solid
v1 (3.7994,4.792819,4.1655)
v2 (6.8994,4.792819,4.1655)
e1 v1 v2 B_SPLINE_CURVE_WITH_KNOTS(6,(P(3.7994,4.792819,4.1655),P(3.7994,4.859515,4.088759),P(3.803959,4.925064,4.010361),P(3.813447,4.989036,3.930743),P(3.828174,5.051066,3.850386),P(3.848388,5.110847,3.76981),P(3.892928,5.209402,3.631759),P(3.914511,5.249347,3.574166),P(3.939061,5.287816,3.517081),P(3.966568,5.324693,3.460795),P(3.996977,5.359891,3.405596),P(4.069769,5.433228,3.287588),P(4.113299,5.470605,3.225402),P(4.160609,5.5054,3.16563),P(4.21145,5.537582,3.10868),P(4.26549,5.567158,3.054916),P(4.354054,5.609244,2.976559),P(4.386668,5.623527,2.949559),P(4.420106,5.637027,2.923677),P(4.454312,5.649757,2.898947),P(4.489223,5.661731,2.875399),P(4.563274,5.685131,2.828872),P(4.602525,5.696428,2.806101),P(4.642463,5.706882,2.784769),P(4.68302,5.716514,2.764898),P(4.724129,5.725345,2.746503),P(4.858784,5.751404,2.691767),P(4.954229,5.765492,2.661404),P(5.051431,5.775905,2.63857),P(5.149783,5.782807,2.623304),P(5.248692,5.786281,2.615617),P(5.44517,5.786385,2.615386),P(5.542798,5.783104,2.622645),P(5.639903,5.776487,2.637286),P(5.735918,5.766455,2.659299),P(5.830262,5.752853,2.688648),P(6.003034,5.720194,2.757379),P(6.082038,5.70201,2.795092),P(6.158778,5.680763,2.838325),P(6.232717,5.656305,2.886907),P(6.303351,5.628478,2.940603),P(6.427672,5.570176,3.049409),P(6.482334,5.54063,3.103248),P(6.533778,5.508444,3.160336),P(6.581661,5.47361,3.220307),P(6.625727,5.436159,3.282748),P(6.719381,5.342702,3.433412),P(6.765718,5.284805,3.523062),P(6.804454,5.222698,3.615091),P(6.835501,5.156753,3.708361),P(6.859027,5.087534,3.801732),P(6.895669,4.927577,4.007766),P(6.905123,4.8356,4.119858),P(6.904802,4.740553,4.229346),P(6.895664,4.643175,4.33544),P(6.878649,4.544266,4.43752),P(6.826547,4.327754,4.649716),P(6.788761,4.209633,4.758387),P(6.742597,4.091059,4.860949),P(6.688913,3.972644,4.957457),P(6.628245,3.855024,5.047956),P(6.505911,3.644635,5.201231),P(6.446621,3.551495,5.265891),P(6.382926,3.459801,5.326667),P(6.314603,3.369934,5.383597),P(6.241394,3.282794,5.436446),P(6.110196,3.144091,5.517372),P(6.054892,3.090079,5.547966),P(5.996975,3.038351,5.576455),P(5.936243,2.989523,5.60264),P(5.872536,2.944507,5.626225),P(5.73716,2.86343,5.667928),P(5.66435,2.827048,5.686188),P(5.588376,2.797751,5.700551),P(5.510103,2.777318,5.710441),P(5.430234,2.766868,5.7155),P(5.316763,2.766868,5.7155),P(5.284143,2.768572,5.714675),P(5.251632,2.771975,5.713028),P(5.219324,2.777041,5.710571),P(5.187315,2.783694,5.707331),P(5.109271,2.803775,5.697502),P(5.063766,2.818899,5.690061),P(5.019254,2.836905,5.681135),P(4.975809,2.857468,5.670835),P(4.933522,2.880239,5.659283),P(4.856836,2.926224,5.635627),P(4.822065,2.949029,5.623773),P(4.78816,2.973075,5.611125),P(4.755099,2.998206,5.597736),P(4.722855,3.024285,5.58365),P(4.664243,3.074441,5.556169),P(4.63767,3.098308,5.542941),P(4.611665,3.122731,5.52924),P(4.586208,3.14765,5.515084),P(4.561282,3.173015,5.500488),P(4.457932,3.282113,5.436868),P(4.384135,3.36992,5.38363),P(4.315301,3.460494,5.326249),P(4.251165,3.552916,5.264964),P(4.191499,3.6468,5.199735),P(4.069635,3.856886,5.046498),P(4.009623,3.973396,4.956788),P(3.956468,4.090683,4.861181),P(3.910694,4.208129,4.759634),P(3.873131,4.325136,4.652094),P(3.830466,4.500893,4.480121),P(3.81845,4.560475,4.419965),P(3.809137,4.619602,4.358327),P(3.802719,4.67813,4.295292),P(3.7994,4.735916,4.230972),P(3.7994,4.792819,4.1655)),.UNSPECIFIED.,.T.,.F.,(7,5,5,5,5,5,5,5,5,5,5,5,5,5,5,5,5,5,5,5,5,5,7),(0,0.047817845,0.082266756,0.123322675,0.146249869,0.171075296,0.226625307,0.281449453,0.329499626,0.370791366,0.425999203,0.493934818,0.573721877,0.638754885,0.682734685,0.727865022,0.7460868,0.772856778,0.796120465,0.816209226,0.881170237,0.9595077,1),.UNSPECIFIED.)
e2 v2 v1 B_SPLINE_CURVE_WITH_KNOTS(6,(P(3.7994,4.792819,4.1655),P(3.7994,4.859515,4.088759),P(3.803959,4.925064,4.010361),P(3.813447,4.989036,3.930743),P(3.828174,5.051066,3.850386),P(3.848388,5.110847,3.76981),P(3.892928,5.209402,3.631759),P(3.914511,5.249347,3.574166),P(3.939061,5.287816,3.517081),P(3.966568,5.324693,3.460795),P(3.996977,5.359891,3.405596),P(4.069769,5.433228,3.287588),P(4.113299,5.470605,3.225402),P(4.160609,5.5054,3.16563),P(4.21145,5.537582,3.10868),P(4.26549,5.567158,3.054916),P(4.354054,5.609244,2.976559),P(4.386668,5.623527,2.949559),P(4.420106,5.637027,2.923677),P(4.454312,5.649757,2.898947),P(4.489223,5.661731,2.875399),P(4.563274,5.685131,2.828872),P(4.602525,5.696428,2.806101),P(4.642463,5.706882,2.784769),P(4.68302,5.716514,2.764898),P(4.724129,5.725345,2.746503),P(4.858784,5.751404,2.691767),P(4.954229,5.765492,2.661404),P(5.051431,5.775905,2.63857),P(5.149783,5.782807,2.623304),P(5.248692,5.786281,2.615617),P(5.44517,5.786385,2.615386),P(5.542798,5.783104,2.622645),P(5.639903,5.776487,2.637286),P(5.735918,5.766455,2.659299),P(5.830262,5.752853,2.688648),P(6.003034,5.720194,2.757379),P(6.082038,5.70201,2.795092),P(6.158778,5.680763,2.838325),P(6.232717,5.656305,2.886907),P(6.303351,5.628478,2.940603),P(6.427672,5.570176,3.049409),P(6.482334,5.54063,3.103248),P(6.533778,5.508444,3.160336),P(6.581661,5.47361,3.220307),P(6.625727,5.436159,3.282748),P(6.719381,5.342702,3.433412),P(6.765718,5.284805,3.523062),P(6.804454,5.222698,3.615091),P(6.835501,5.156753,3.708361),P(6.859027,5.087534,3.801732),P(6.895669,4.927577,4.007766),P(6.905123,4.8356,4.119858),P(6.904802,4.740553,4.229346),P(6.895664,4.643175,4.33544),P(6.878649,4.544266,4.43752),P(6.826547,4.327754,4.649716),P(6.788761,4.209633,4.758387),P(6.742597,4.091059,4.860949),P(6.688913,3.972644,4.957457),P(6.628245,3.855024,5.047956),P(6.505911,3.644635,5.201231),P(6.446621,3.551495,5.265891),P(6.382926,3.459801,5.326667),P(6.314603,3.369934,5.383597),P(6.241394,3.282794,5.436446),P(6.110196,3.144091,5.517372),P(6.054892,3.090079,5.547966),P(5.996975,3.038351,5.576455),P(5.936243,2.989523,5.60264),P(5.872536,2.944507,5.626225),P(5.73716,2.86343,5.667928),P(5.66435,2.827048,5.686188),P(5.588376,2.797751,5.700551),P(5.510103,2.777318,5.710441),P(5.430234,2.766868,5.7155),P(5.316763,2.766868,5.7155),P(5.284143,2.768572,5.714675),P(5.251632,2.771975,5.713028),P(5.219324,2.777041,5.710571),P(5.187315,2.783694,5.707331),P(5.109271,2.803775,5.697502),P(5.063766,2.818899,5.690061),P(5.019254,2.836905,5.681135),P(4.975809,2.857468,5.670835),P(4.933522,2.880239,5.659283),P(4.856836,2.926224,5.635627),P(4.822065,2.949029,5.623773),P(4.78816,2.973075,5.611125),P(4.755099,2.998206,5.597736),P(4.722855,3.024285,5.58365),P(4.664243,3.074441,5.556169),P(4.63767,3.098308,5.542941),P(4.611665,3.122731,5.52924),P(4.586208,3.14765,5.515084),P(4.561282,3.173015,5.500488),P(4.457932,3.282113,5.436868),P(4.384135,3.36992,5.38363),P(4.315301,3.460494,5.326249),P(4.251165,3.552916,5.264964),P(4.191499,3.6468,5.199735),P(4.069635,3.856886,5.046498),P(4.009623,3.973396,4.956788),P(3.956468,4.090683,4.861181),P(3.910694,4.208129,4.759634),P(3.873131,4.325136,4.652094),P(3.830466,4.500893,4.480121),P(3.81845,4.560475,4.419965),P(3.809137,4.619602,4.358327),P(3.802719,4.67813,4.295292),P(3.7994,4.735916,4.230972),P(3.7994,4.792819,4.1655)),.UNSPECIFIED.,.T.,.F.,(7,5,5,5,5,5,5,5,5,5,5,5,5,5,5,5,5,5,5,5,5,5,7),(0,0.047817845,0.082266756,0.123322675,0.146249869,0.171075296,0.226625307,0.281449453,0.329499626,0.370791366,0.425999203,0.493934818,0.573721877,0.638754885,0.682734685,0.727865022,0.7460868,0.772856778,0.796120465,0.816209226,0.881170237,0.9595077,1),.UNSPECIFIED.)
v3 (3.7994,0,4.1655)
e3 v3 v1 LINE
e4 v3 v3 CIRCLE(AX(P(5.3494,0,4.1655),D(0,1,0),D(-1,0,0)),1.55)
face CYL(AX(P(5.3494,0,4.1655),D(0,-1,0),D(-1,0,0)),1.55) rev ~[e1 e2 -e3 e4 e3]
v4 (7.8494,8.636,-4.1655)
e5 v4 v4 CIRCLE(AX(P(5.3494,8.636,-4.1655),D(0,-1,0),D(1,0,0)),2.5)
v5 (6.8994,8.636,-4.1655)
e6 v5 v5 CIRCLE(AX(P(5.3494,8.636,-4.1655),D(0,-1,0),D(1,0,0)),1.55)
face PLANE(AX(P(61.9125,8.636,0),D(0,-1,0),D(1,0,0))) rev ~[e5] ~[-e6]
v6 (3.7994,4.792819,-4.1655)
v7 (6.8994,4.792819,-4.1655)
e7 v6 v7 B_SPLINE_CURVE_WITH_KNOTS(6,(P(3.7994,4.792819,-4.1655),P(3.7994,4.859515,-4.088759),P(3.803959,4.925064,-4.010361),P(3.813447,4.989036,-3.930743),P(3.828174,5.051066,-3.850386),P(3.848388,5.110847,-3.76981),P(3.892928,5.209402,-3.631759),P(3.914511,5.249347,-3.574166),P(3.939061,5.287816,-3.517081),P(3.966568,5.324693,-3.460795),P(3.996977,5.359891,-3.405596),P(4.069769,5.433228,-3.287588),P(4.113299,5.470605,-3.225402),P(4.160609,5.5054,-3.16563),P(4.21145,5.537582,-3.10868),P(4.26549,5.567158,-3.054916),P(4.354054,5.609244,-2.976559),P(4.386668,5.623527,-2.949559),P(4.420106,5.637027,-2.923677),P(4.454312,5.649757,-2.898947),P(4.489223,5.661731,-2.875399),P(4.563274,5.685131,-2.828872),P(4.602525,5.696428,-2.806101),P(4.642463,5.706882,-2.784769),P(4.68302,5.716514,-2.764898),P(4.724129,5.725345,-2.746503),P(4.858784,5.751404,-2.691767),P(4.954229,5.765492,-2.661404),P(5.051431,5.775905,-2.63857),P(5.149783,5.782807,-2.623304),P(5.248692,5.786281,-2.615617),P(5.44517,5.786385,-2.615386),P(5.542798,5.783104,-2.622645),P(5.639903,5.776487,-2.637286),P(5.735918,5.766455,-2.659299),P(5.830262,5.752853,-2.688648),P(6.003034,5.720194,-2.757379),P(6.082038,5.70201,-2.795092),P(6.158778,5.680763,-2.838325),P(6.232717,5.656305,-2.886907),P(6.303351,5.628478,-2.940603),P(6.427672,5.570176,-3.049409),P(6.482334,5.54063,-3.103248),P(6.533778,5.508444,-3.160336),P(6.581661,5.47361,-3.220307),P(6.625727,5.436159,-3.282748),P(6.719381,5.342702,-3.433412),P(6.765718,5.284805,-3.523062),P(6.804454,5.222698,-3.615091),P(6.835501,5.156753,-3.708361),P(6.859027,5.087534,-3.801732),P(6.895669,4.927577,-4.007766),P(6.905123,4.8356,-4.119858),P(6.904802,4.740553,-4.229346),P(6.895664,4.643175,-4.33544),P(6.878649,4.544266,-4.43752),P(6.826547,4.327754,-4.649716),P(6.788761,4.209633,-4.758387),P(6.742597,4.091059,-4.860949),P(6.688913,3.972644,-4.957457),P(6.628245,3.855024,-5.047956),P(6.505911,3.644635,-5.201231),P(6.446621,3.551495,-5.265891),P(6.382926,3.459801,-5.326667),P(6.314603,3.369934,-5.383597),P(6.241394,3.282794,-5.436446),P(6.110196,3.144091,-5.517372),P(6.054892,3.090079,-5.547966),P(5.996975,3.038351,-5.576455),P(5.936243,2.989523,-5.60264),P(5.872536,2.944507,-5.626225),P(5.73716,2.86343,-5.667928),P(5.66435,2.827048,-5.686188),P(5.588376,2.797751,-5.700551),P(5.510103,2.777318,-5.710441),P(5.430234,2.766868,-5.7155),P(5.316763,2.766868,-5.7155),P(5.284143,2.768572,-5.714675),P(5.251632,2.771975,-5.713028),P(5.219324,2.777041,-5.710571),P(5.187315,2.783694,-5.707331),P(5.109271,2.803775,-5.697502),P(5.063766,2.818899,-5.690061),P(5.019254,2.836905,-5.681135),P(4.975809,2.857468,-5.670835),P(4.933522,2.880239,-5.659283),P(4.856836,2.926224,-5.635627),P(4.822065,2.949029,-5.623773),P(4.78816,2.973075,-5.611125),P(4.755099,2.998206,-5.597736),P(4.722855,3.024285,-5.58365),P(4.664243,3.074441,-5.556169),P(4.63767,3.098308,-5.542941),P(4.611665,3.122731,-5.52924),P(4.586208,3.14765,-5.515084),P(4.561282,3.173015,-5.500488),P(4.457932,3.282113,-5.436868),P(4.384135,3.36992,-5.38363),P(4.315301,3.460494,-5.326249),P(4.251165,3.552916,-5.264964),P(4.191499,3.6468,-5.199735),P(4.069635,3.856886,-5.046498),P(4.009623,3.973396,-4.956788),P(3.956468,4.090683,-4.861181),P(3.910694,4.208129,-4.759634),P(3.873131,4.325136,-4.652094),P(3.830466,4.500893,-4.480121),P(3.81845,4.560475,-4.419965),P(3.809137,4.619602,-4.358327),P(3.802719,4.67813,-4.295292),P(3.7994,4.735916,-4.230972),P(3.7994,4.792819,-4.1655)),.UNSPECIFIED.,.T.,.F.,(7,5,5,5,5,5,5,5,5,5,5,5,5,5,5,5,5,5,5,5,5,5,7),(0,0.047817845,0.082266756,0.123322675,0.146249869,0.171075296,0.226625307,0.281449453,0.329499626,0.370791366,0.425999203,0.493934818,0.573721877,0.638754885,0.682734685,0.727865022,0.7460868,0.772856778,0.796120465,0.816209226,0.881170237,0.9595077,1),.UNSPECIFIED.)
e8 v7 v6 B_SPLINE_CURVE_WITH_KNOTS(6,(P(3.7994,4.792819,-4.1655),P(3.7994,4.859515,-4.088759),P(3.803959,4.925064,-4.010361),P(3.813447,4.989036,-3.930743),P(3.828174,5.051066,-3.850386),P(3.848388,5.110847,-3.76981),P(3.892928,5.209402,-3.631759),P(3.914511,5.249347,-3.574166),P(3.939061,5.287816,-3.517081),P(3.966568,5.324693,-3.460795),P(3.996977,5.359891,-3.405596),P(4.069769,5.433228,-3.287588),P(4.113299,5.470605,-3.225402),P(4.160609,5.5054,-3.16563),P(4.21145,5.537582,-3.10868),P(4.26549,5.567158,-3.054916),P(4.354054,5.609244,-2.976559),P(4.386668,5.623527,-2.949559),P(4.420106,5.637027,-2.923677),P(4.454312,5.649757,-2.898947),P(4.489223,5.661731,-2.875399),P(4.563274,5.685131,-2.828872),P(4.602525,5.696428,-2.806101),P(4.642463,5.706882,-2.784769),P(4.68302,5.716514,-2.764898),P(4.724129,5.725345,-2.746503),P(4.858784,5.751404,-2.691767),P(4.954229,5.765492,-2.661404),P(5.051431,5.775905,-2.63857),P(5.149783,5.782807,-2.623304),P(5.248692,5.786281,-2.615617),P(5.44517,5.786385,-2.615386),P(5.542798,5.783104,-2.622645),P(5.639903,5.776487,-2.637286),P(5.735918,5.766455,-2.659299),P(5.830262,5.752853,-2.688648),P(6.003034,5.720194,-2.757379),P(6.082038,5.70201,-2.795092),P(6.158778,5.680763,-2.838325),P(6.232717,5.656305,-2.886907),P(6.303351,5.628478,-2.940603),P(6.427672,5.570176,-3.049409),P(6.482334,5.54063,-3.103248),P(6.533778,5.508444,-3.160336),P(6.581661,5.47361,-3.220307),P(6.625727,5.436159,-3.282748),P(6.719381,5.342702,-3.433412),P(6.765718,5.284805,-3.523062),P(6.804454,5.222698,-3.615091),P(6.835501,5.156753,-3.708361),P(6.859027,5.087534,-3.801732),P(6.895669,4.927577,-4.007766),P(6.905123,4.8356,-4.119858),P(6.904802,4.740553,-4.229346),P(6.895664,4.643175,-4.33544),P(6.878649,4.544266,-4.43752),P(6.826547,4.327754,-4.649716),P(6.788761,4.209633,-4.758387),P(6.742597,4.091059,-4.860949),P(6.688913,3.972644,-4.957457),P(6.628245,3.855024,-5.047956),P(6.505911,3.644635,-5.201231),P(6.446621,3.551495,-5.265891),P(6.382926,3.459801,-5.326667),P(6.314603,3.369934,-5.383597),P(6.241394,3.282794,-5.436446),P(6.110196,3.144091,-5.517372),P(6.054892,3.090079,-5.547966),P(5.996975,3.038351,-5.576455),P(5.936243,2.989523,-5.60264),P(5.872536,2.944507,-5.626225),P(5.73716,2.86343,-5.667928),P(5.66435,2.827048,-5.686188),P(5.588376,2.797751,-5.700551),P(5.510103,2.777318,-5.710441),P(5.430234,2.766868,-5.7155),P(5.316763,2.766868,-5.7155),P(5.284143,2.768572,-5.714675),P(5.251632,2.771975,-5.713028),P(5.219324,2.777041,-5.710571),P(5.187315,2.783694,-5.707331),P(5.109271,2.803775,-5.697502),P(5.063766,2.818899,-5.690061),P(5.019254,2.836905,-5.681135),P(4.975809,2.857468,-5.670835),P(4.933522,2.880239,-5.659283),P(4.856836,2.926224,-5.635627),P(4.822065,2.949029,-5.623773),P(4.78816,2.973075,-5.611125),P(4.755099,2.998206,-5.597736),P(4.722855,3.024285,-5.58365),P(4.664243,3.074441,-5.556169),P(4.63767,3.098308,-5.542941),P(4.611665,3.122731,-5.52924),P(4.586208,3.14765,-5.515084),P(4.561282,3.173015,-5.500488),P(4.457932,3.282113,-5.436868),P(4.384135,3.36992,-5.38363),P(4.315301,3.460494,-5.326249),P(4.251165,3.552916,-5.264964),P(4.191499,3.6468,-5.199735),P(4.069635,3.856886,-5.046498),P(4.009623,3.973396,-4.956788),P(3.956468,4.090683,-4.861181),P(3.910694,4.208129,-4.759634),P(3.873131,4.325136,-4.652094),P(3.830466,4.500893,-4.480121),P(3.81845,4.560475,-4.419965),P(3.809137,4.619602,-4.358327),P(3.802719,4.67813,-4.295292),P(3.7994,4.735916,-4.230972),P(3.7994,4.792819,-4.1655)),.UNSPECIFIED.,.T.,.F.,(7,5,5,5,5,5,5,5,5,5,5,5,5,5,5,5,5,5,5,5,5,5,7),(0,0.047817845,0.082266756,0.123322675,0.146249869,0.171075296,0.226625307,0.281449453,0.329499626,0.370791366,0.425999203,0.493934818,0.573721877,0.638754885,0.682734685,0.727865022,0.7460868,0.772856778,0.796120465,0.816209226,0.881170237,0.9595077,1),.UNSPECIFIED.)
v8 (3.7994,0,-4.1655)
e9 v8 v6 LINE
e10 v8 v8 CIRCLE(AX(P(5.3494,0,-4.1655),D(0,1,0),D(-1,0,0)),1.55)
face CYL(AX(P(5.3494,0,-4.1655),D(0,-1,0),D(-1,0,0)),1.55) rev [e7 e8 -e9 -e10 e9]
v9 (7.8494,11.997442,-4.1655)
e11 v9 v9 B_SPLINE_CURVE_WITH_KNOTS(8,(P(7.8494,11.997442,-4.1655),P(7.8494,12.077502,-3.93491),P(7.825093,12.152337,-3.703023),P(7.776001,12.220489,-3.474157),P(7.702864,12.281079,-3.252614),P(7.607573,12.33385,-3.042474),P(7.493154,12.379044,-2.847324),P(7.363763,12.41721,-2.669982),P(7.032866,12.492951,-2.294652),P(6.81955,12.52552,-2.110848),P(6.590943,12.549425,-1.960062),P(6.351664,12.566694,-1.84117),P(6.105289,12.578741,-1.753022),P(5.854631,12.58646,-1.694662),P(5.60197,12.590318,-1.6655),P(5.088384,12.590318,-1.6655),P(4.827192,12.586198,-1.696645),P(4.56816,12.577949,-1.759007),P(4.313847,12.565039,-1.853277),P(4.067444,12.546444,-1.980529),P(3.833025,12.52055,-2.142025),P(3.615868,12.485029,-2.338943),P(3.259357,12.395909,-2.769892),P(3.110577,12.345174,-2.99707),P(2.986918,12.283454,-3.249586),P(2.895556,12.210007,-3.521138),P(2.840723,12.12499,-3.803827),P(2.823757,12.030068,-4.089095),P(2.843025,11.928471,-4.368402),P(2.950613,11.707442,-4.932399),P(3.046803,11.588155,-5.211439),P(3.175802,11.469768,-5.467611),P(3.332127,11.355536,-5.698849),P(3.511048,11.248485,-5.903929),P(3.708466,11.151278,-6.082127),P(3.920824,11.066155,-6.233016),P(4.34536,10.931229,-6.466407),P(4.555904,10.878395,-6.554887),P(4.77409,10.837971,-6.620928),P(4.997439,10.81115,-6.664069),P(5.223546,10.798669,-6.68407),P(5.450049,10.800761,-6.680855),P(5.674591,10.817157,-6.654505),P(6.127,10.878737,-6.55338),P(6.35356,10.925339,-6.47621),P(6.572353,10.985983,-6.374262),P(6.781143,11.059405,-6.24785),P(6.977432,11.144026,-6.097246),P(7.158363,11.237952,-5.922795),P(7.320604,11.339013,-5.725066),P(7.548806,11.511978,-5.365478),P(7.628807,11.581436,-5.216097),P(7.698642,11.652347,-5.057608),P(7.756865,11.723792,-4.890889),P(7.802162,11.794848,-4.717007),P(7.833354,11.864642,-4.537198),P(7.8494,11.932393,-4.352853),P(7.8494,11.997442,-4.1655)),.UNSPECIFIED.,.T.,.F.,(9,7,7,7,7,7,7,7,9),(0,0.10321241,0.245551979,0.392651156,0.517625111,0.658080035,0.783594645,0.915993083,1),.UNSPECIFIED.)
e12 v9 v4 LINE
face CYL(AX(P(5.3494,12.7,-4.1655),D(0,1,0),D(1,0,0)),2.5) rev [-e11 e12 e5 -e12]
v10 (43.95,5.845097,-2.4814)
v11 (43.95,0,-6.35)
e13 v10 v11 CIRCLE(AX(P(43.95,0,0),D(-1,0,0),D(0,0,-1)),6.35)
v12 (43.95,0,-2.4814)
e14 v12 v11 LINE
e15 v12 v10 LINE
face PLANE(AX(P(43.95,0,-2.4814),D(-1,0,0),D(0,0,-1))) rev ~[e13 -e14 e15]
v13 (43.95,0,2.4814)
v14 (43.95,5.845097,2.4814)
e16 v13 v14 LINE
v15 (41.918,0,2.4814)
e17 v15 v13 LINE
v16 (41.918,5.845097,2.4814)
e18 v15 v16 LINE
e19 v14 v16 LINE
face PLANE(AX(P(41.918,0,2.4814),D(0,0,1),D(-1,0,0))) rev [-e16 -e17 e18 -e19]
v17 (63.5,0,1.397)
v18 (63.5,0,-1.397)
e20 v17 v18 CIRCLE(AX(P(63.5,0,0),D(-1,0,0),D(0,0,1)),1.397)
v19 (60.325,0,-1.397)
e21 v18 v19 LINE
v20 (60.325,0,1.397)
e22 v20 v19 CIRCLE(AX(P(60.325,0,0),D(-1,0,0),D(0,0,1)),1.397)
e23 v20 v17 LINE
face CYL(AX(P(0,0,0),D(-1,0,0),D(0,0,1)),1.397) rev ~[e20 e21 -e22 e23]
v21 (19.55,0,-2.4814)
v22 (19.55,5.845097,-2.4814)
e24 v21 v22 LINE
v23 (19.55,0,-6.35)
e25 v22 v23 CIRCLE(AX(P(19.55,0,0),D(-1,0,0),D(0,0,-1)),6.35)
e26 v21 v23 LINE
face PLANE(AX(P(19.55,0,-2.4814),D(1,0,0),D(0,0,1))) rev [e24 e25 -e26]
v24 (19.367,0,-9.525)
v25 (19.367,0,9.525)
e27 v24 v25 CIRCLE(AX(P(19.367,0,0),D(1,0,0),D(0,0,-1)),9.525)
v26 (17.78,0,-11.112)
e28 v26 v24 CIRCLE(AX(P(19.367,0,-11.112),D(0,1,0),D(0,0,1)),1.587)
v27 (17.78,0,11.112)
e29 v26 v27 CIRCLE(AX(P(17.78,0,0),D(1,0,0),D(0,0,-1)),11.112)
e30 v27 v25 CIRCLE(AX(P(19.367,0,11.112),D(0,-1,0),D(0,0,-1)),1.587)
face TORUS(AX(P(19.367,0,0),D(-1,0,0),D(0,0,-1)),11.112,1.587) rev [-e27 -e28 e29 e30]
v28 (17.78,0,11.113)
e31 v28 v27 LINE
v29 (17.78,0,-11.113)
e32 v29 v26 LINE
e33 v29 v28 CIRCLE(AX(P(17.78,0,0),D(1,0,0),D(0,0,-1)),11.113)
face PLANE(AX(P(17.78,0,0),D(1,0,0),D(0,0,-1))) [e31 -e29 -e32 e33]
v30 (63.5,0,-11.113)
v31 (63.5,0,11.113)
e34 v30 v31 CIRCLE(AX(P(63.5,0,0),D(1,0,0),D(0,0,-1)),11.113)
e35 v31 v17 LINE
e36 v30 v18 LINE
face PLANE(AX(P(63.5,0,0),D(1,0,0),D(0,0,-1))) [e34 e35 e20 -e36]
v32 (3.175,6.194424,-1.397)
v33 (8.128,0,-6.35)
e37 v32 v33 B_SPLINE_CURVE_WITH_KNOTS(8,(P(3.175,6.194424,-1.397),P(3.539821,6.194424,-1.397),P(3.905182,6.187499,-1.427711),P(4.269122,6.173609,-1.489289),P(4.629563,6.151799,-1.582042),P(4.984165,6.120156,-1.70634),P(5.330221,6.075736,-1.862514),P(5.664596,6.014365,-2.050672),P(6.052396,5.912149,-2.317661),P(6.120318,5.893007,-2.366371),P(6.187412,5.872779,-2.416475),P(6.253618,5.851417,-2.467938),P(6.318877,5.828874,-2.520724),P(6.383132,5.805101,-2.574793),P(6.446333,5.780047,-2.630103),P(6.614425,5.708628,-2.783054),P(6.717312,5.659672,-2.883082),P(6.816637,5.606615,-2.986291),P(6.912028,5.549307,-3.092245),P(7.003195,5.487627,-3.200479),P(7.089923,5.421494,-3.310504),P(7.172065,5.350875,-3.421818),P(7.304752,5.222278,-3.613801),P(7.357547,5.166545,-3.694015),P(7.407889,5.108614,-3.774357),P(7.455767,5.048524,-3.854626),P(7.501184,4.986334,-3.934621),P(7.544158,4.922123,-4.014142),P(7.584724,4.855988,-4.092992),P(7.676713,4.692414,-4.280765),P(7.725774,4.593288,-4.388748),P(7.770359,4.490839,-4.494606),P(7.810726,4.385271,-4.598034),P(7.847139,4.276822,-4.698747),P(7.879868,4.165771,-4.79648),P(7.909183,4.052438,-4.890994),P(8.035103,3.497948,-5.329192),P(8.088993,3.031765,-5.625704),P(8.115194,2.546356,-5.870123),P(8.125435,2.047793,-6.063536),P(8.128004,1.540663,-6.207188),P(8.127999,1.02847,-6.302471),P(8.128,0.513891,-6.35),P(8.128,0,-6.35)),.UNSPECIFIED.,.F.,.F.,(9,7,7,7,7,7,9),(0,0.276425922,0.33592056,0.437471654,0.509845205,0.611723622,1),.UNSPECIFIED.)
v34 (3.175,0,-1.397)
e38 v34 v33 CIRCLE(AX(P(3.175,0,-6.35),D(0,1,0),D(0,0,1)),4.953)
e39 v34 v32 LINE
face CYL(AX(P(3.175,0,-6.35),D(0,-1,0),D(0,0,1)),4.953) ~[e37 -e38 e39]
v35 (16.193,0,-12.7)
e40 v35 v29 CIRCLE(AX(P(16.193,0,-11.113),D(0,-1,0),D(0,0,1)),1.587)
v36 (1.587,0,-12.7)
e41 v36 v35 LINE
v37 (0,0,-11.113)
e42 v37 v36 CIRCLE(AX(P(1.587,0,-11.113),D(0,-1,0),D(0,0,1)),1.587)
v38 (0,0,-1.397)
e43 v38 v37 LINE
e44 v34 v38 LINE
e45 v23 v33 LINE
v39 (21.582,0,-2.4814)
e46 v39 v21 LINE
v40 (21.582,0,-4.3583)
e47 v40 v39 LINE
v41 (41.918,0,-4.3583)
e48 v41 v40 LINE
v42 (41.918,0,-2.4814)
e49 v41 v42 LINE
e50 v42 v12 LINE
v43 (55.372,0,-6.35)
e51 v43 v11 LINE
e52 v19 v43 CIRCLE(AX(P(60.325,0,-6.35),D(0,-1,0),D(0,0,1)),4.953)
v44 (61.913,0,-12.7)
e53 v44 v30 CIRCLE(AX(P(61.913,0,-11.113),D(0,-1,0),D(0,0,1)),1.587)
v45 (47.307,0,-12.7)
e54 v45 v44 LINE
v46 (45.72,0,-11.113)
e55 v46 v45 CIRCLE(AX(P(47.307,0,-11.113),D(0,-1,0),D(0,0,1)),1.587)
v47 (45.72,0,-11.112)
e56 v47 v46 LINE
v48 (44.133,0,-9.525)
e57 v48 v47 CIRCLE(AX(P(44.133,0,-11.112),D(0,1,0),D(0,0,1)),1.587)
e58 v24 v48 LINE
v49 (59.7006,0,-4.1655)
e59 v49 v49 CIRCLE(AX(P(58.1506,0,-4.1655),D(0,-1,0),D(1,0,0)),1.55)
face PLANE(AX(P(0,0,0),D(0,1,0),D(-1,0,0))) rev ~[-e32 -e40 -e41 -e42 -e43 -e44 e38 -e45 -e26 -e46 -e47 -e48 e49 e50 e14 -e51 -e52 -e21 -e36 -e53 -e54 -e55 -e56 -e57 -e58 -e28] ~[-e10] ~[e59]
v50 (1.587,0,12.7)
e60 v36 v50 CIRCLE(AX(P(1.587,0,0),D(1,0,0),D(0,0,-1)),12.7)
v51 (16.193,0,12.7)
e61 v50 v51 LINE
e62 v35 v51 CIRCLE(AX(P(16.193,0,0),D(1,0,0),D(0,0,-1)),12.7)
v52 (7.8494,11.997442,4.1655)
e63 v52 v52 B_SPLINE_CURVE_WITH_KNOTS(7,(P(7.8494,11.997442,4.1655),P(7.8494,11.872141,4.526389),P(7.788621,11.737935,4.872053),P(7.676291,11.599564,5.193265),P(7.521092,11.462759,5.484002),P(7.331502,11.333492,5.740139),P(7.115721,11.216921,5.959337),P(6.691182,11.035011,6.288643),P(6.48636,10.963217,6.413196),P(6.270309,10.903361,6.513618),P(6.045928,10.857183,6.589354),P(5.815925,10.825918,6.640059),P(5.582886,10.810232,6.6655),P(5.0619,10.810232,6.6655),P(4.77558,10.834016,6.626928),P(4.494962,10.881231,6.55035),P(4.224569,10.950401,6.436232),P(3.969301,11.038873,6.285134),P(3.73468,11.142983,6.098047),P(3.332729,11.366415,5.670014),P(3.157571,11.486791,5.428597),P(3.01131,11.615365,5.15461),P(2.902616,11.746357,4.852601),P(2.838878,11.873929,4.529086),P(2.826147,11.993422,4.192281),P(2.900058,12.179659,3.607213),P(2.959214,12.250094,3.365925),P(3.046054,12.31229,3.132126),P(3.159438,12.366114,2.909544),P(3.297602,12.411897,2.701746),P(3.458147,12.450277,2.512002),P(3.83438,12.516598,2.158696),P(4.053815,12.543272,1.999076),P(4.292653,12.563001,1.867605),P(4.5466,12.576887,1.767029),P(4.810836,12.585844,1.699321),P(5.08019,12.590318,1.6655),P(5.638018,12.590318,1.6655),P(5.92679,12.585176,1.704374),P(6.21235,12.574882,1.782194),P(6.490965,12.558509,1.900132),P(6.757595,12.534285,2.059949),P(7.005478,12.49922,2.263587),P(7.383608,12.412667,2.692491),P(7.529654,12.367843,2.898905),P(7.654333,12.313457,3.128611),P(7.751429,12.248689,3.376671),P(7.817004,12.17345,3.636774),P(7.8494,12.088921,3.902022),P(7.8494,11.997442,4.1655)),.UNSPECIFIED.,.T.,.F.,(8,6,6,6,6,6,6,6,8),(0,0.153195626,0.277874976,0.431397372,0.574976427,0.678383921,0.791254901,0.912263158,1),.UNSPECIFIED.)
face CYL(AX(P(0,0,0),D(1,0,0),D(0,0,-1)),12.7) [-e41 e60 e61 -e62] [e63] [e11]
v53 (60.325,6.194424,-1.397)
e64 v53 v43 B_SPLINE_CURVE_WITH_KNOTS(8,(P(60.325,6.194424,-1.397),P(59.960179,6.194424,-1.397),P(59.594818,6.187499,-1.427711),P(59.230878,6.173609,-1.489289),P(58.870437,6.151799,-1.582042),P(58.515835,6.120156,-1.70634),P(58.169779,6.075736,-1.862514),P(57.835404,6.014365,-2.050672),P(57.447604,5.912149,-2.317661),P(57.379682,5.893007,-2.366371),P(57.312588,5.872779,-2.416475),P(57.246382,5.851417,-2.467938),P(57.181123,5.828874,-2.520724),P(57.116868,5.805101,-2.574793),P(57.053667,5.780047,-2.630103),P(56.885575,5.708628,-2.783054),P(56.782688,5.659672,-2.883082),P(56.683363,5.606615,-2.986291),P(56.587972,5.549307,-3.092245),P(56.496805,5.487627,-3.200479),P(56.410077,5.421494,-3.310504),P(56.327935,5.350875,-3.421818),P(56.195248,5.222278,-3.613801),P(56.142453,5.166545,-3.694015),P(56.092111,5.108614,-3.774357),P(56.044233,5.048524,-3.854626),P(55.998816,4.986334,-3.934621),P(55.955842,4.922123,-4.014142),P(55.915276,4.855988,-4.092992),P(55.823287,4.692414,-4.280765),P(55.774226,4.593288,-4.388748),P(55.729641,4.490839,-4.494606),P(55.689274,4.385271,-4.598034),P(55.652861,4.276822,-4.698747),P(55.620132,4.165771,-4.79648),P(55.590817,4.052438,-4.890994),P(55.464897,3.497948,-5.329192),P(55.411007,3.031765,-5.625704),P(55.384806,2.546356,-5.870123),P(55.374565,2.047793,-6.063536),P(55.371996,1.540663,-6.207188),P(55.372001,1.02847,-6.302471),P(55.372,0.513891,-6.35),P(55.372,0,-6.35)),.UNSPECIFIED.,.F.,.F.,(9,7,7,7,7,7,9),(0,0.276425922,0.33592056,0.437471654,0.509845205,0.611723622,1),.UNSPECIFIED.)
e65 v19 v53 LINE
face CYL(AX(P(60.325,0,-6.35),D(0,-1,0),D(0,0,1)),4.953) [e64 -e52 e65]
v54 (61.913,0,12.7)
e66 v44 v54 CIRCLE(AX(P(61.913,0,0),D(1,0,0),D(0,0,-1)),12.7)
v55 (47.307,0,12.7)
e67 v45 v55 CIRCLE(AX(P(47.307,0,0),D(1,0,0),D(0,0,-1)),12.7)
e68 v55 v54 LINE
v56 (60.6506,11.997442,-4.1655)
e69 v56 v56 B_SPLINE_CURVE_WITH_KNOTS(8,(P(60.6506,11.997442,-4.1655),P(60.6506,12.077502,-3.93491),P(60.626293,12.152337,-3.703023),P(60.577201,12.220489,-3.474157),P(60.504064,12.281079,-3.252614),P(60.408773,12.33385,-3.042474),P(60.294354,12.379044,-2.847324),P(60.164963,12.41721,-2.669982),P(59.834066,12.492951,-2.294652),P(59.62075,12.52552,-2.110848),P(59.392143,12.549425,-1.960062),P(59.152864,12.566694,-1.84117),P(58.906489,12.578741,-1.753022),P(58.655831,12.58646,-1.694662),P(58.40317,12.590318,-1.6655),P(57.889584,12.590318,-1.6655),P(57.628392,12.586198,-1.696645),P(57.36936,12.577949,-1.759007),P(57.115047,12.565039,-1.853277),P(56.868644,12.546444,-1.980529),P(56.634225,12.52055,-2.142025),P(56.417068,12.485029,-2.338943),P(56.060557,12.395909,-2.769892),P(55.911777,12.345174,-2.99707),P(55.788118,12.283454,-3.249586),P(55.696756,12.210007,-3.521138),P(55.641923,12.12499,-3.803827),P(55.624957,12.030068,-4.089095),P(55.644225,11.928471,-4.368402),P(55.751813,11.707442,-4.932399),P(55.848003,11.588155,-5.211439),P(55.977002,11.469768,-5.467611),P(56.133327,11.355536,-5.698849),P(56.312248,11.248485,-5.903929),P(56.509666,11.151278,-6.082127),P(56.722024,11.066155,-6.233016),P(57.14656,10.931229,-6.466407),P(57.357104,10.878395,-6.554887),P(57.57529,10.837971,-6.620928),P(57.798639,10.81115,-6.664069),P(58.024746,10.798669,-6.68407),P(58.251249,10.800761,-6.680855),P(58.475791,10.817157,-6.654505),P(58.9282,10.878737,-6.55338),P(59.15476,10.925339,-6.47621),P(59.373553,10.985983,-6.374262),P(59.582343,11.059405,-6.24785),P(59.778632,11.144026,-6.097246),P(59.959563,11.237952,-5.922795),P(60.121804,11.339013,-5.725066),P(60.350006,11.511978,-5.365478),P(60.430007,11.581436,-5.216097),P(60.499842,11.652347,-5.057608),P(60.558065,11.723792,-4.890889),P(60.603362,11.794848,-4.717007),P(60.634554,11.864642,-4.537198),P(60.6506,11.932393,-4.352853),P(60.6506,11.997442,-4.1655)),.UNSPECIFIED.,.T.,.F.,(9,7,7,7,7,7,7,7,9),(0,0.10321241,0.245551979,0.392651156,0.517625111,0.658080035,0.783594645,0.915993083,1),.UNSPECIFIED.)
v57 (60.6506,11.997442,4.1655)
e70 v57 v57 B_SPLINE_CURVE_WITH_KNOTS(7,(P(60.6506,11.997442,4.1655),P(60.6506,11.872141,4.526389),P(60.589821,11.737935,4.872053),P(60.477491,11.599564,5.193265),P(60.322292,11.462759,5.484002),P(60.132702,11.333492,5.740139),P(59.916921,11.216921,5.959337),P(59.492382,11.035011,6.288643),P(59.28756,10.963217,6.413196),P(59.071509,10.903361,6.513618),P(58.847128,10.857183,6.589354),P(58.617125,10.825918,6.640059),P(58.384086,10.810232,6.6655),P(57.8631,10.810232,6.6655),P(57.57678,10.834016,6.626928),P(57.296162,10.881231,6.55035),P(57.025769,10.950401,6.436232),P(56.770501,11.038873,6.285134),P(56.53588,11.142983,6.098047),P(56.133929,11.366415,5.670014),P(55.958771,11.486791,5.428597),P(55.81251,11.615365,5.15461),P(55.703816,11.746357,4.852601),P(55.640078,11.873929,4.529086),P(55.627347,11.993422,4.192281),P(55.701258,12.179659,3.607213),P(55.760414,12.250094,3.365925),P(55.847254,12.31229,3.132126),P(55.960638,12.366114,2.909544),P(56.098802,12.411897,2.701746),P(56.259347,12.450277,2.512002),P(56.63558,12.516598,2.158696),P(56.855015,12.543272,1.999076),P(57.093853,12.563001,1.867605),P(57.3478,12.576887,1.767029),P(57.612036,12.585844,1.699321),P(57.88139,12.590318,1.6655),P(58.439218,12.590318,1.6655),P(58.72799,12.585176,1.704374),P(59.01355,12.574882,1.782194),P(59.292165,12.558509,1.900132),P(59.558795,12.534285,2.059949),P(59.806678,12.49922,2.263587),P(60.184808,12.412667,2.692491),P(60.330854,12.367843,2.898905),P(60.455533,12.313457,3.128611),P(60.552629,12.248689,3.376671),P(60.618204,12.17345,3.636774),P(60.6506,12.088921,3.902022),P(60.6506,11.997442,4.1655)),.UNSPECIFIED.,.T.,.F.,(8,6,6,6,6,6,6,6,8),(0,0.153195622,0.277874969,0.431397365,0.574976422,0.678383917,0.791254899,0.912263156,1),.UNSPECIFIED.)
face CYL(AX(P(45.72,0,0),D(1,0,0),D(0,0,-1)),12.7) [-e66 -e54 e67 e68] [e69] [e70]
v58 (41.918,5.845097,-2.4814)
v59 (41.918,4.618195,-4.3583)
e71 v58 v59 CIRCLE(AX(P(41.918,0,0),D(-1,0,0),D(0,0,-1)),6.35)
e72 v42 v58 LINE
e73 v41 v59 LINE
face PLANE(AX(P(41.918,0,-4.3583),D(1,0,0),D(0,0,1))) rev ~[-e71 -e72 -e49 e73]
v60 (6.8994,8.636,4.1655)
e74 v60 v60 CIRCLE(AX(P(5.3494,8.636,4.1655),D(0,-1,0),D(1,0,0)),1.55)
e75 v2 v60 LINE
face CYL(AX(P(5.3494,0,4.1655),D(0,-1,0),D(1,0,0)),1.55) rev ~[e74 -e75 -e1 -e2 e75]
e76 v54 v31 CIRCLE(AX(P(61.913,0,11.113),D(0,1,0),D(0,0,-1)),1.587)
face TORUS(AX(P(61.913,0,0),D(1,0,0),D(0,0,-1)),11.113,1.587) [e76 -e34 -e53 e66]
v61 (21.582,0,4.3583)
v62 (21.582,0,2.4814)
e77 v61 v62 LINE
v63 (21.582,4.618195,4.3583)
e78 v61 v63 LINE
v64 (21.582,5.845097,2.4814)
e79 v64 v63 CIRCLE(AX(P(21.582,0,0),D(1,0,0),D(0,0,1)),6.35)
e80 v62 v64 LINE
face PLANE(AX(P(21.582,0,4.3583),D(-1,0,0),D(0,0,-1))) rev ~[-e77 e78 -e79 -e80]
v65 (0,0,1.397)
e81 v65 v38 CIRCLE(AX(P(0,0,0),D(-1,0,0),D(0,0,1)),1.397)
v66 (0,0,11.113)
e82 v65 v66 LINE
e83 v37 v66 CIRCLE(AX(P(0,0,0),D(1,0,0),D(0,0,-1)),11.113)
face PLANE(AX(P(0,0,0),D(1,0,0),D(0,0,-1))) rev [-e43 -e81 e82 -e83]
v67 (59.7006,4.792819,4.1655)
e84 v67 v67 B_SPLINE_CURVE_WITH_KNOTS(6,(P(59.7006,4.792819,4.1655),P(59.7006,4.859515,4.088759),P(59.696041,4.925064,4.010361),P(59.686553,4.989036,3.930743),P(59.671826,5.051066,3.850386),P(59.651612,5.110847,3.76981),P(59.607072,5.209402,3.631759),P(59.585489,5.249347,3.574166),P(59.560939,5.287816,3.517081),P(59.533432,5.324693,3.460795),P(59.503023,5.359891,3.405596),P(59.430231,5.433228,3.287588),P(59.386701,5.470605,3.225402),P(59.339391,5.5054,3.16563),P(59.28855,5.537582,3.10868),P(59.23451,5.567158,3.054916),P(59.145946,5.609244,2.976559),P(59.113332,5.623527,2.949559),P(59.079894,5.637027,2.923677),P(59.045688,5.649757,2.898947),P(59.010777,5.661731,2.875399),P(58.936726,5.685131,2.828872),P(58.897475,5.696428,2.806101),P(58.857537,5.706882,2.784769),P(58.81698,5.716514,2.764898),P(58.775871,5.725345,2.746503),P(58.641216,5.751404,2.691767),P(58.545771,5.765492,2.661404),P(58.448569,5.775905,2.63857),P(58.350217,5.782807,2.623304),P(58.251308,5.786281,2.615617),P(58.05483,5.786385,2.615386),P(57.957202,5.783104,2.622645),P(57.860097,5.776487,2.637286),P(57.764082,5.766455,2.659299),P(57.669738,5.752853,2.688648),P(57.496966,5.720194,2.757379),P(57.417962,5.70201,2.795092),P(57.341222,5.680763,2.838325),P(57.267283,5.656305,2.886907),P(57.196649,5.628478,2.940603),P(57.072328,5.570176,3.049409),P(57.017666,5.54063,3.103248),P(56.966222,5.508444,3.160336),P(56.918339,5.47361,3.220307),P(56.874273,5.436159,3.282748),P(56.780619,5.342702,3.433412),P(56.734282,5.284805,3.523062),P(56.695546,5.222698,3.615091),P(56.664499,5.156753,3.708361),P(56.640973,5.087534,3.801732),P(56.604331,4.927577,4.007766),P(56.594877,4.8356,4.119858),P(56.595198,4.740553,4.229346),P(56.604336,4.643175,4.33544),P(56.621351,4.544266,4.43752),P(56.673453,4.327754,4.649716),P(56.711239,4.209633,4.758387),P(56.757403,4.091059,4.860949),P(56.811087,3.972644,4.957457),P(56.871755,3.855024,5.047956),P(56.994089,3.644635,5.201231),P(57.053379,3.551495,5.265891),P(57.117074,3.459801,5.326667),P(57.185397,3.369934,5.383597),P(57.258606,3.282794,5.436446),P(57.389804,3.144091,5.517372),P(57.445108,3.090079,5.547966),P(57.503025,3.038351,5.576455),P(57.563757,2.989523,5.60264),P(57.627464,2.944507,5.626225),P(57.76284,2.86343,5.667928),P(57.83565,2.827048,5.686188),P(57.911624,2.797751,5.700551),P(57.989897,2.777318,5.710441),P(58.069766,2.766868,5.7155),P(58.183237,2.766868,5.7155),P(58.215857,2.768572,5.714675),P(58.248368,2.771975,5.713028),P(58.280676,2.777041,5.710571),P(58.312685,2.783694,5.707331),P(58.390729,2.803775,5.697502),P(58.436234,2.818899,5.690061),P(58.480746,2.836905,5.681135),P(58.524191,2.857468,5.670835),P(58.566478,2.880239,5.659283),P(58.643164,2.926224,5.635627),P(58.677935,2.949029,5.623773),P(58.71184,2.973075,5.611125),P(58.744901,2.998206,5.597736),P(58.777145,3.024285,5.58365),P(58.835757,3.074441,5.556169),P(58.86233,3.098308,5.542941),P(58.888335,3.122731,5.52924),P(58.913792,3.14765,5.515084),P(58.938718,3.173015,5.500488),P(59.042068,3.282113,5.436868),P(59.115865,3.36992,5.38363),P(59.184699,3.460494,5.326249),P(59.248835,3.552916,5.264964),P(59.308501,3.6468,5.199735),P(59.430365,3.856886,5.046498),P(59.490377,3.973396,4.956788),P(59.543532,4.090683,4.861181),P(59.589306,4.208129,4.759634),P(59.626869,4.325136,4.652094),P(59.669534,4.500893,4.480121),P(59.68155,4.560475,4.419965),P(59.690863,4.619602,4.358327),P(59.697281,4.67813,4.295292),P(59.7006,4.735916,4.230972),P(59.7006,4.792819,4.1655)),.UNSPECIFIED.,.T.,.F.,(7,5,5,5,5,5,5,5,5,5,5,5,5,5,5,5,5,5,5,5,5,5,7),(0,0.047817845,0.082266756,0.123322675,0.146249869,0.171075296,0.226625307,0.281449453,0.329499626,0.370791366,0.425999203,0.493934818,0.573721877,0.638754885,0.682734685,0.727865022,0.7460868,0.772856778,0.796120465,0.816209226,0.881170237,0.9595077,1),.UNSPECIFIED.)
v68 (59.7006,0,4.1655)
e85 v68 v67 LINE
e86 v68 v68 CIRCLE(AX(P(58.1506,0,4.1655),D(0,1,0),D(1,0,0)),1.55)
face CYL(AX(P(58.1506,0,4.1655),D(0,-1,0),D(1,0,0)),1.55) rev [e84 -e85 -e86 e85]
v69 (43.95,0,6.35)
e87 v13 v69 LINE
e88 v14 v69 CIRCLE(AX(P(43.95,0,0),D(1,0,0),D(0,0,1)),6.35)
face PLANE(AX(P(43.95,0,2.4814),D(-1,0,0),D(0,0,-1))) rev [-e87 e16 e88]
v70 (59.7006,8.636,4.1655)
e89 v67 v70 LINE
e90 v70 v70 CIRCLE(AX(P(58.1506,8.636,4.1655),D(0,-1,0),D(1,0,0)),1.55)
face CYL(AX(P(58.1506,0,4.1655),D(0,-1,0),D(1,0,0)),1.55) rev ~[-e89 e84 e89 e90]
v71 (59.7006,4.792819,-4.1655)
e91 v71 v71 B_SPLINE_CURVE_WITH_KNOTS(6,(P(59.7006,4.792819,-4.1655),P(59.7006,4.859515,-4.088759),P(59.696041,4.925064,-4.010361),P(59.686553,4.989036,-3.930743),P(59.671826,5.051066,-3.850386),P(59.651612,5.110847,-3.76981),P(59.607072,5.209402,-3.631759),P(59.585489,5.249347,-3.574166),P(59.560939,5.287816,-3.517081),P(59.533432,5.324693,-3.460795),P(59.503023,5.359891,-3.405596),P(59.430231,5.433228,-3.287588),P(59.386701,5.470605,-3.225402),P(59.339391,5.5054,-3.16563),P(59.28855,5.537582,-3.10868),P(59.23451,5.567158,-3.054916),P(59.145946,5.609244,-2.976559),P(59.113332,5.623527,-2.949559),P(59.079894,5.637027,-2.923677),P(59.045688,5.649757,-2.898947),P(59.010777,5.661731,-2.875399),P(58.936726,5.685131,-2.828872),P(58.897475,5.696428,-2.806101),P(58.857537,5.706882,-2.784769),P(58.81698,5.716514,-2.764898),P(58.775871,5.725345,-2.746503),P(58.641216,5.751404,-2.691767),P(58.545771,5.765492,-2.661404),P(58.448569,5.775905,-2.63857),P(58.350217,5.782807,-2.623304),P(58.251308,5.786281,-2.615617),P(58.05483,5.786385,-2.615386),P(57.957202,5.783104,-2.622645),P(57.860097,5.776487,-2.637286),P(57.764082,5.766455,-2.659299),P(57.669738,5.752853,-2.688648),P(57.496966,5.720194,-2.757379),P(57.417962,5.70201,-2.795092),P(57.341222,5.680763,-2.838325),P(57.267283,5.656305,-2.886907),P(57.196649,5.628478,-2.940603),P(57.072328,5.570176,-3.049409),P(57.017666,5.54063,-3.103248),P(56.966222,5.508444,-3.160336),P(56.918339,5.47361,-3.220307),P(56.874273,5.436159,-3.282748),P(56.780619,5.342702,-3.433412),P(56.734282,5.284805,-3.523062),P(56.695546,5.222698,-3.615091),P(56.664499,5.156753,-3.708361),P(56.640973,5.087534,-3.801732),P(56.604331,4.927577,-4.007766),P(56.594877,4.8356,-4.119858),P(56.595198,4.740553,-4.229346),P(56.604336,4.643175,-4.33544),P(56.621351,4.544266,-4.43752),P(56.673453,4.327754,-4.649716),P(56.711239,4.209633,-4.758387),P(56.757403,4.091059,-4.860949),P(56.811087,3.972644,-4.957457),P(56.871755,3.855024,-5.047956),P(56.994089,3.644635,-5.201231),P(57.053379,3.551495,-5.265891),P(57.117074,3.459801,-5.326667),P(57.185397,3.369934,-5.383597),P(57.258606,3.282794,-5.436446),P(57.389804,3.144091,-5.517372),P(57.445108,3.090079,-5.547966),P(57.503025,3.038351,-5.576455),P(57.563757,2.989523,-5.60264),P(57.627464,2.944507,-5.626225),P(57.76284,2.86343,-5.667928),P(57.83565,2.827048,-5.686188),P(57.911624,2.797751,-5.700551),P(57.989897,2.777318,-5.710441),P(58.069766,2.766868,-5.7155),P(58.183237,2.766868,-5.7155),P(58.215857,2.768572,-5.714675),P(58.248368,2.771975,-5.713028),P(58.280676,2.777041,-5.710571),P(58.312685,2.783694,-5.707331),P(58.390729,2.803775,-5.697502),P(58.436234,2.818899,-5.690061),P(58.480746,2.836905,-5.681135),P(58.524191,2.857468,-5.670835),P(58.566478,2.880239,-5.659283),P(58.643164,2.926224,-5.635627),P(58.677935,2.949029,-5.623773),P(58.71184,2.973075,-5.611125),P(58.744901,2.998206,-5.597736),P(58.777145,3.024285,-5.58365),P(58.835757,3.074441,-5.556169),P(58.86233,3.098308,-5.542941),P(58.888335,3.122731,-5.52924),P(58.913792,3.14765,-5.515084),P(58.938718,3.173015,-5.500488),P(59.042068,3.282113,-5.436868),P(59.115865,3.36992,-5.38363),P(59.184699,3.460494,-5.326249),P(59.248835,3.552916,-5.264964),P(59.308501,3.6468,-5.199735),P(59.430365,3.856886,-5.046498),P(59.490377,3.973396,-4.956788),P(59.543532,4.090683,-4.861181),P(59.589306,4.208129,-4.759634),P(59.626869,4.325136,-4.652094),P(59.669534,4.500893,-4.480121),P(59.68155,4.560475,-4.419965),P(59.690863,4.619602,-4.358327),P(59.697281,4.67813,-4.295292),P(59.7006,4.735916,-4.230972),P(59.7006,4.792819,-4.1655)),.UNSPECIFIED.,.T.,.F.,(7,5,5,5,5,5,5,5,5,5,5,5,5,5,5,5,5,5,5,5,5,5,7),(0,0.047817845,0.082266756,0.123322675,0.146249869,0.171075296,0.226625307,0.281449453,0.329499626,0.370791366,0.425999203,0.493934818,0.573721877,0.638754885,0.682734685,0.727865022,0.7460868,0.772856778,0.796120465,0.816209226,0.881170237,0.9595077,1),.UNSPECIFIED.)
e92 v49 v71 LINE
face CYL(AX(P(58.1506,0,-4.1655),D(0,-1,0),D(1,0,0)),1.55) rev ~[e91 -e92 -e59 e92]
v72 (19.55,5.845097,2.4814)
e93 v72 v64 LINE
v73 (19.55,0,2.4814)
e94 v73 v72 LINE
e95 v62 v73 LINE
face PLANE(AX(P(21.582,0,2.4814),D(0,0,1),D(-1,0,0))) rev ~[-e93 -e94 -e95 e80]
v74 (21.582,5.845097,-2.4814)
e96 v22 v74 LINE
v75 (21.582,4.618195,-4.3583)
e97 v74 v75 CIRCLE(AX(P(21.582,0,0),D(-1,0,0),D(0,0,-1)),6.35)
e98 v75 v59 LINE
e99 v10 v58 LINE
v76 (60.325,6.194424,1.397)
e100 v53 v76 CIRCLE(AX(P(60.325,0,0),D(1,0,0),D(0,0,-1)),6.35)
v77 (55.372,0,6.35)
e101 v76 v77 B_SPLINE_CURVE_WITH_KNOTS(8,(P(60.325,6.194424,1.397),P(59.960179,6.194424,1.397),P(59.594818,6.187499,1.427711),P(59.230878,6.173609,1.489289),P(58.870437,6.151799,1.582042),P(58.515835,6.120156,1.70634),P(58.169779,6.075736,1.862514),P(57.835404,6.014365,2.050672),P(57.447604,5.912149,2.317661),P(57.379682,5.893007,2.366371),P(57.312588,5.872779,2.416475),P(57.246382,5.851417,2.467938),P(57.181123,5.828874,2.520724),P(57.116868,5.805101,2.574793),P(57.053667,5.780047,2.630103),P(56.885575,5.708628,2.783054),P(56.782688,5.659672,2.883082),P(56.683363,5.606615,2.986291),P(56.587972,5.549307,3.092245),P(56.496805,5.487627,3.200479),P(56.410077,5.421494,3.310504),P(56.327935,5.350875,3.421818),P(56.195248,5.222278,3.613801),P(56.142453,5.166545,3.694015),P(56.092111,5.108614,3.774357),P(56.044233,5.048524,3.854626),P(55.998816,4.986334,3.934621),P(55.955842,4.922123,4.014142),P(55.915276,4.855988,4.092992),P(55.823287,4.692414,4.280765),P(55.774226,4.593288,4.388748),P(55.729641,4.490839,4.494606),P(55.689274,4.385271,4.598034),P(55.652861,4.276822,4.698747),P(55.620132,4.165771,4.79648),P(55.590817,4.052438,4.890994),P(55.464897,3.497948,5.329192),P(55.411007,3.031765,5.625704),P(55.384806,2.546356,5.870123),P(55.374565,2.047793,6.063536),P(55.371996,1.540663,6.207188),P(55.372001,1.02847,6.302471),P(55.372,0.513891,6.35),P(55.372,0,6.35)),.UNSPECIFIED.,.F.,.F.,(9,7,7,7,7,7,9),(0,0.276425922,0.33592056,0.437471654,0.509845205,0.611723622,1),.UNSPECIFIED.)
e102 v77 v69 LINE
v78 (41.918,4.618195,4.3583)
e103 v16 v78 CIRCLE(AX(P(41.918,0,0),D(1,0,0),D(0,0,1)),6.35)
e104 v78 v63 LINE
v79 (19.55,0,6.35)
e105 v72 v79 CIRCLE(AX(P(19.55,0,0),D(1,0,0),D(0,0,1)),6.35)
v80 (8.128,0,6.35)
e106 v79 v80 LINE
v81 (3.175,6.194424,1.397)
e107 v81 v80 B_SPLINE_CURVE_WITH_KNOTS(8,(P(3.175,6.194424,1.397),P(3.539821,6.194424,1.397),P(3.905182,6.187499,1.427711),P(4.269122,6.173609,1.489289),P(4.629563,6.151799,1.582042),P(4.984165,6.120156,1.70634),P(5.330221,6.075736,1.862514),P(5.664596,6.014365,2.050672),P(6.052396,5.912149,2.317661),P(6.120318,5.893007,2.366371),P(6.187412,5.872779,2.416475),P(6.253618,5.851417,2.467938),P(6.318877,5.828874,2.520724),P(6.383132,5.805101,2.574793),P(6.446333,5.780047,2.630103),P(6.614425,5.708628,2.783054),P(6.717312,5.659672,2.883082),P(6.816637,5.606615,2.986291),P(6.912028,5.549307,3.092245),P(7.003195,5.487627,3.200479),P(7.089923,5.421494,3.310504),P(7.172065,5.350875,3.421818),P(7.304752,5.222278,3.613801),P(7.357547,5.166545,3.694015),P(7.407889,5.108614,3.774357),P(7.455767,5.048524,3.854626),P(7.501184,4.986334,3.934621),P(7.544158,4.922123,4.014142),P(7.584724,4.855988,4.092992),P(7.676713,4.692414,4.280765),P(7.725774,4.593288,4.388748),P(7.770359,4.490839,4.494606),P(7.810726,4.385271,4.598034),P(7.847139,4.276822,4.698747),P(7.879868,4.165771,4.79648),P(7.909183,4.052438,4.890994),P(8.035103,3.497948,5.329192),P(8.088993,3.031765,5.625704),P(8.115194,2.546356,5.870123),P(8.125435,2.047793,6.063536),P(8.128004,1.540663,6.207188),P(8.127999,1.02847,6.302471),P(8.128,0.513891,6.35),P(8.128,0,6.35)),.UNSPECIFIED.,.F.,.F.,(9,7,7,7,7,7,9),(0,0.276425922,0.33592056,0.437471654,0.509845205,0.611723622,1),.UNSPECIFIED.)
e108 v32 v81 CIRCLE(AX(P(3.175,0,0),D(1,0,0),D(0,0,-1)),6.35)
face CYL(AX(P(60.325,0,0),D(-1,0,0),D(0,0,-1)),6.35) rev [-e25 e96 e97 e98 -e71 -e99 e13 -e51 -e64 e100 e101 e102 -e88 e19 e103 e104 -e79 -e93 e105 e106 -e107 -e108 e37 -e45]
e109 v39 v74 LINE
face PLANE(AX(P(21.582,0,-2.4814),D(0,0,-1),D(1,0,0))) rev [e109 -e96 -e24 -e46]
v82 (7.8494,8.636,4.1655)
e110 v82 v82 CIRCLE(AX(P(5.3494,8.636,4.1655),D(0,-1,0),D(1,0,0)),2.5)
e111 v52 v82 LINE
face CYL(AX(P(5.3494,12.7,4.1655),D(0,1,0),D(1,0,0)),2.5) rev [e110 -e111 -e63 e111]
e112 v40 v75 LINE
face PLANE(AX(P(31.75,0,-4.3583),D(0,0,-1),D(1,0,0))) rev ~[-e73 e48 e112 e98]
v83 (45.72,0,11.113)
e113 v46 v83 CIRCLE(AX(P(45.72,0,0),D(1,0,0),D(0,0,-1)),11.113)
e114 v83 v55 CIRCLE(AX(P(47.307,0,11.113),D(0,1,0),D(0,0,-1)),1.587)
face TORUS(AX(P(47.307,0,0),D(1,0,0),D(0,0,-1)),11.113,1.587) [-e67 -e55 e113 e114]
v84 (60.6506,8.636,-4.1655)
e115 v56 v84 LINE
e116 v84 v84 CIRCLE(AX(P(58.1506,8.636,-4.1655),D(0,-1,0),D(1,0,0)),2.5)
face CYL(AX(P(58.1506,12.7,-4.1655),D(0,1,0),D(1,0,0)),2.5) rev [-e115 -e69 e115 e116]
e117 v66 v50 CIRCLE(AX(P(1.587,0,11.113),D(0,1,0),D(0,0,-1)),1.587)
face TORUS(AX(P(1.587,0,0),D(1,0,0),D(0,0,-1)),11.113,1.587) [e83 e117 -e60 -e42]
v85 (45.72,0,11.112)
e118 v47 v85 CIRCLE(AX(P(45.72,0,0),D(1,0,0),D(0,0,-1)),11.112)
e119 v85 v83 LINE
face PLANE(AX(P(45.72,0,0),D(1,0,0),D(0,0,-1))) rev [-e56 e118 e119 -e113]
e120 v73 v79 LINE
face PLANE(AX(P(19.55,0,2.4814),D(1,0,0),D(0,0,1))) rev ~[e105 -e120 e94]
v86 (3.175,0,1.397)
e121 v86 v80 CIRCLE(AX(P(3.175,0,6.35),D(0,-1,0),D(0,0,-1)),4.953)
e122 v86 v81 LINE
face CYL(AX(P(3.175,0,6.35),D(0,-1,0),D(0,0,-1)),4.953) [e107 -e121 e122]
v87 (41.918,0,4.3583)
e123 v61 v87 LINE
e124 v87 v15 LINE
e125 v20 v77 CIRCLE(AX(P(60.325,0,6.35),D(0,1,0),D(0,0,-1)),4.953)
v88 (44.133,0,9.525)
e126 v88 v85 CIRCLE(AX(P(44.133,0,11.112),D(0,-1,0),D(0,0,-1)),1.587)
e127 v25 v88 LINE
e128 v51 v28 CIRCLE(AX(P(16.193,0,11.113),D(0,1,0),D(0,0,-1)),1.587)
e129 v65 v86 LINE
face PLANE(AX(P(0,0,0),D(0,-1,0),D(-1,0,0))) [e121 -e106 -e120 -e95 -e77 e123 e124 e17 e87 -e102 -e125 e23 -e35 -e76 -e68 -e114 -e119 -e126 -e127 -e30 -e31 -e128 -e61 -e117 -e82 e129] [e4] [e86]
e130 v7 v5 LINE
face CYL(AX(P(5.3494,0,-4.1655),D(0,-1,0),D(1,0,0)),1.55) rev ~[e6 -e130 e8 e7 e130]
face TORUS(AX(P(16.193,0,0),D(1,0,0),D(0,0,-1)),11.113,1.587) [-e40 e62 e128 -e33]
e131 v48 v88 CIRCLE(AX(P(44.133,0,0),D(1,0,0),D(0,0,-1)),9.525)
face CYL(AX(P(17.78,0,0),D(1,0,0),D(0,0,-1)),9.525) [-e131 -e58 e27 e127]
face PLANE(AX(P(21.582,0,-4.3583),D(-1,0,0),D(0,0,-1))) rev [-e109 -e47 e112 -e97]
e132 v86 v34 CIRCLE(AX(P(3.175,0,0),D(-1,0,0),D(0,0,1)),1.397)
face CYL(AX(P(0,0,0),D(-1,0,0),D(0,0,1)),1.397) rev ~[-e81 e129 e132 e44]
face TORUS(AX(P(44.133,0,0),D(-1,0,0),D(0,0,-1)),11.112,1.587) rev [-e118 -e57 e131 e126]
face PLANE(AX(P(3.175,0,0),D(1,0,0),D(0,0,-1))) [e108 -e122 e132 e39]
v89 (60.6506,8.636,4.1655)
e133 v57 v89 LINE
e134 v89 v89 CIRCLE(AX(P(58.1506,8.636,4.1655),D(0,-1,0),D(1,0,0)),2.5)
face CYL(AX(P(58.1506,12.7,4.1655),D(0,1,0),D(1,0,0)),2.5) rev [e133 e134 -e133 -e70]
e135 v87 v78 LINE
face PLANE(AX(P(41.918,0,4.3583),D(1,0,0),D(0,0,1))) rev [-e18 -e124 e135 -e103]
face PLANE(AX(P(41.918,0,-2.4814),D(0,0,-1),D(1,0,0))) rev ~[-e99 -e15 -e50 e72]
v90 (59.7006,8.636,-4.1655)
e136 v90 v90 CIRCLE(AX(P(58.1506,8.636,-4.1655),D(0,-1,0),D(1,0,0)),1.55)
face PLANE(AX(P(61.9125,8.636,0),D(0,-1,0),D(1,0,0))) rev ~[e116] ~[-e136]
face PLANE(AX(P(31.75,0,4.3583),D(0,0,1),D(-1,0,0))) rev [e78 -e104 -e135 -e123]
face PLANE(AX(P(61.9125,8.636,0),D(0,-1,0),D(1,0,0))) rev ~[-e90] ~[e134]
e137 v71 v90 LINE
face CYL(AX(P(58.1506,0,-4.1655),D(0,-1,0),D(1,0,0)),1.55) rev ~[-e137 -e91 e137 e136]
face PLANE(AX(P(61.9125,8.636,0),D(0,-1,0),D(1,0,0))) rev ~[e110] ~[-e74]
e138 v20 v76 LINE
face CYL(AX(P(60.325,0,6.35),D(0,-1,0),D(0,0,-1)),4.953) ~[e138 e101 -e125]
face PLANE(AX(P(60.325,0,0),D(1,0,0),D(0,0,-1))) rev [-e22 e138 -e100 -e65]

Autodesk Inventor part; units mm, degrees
ref_plane "XZ Plane" through (0, 0, 0) normal (0, 1, 0) x (-1, 0, 0)
ref_plane "XY Plane" through (0, 0, 0) normal (0, 0, 1) x (1, 0, 0)
sketch "Sketch1" plane through (0, 0, 0) normal (0, 1, 0) x (-1, 0, 0)
  line L0 (0, 0) -> (0, -12.7)
  line L1 (0, -12.7) -> (-17.78, -12.7)
  line L2 (-17.78, -12.7) -> (-17.78, -9.525)
  line L3 (-17.78, -9.525) -> (-45.72, -9.525)
  line L4 (-45.72, -9.525) -> (-45.72, -12.7)
  line L5 (-45.72, -12.7) -> (-63.5, -12.7)
  line L6 (-63.5, -12.7) -> (-63.5, 0)
  line L7 (-63.5, 0) -> (-60.325, 0)
  line L8 (-60.325, 0) -> (-60.325, -6.35)
  line L9 (-60.325, -6.35) -> (-3.175, -6.35)
  line L10 (-3.175, -6.35) -> (-3.175, 0)
  line L11 (-3.175, 0) -> (0, 0)
  dimension "d0" = 12.7
  dimension "d1" = 3.175
  dimension "d2" = 17.78
  dimension "d3" = 63.5
  dimension "d4" = 3.175
  dimension "d5" = 3.175
revolve "Revolution1" add sketch "Sketch1" angle 180 about axis through (63.5, 0, 0) along (1, 0, 0)
fillet "Fillet1" radius 1.5875 6 edges at (63.5, 12.7, 0) (17.78, 9.525, 0) (17.78, 12.7, 0) (0, 12.7, 0) (45.72, 9.525, 0) (45.72, 12.7, 0)
sketch "Sketch2" plane through (0, 0, 0) normal (-1, 0, 0) x (0, 0, 1)
  circle A0 centre (0, 0) radius 1.397
  dimension "d8" = 2.794
extrude "Extrusion1" cut sketch "Sketch2" against normal through all
sketch "Sketch3" plane through (3.175, 0, 6.35) normal (0, -1, 0) x (1, 0, 0)
  line L0 (0, 0) -> (57.15, 0) construction
  line L1 (57.15, -12.7) -> (0, -12.7) construction
  line L2 (0, -4.953) -> (0, -7.747) construction
  line L3 (0, -6.35) -> (10.7724, -6.35) construction
  line L4 (10.7724, -6.35) -> (46.1567, -6.35) construction
  line L5 (46.1567, -6.35) -> (56.929, -6.35) construction
  line L6 (0, -12.7) -> (0, 0) projected
  line L7 (28.575, 0) -> (28.575, -12.7) construction
  line L8 (57.15, -7.747) -> (57.15, -4.953) projected
  line L9 (28.575, -10.7083) -> (28.575, -12.7)
  line L10 (57.15, -7.747) -> (28.575, -7.747) construction
  line L11 (28.575, -10.7083) -> (38.743, -10.7083)
  line L12 (40.775, -8.8314) -> (40.775, -12.7)
  line L13 (40.775, -12.7) -> (28.575, -12.7)
  line L14 (28.575, -12.7) -> (28.575, -10.7083)
  line L15 (38.743, -10.7083) -> (38.743, -12.7)
  line L16 (36.4298, -11.4703) -> (36.4298, -10.7083) construction
  line L17 (29.337, -10.5155) -> (28.575, -10.5155) construction
  line L18 (37.981, -10.5156) -> (38.743, -10.5156) construction
  line L19 (38.743, -10.7083) -> (38.743, -8.8314)
  line L20 (38.743, -8.8314) -> (40.775, -8.8314)
  circle A0 centre (54.9756, -10.5155) radius 1.55
  arc A1 (57.15, -7.747) -> (52.197, -12.7) centre (57.15, -12.7) ccw
  line L21 (57.15, -12.7) -> (53.6477, -9.1977) construction
  line L22 (57.15, -7.747) -> (57.15, -12.7)
  line L23 (57.15, -12.7) -> (52.197, -12.7)
  point P0 (-3.175, -6.35)
  dimension "d27" = 2.032
  dimension "d28" = 3.1
extrude "Extrusion3" add sketch "Sketch3" against normal up to next
mirror "Mirror1" about plane through (0, 0, 0) normal (0, 0, 1) of "Extrusion3"
ref_plane "Work Plane1" through (31.75, 0, -9.525) normal (1, 0, 0) x (0, 1, 0)
mirror "Mirror2" about plane through (31.75, 0, -9.525) normal (1, 0, 0) of "Extrusion3", "Mirror1"
sketch "Sketch4" plane through (19.3675, 0, -9.525) normal (0, -1, 0) x (1, 0, 0)
  line L0 (22.5505, 3.175) -> (2.2145, 3.175)
  line L1 (2.2145, 3.175) -> (2.2145, 15.8996)
  line L2 (2.2145, 15.8996) -> (22.5505, 15.8996)
  line L3 (22.5505, 15.8996) -> (22.5505, 3.175)
  point P0 (-19.3675, 9.525)
  point P1 (36.0045, 3.175)
  point P2 (40.9575, 3.175)
  point P3 (24.5825, 7.0436)
extrude "Extrusion4" [suppressed]
ref_plane "Work Plane3" through (61.9125, 12.7, 0) normal (0, -1, 0) x (1, 0, 0)
sketch "Sketch5" plane through (61.9125, 12.7, 0) normal (0, -1, 0) x (1, 0, 0)
  circle A0 centre (-56.5631, -4.1655) radius 1.55 construction
  circle A1 centre (-56.5631, 4.1655) radius 1.55 construction
  circle A2 centre (-3.7619, 4.1655) radius 1.55 construction
  circle A3 centre (-3.7619, -4.1655) radius 1.55 construction
  circle A4 centre (-56.5631, 4.1655) radius 2.5
  circle A5 centre (-56.5631, -4.1655) radius 2.5
  circle A6 centre (-3.7619, -4.1655) radius 2.5
  circle A7 centre (-3.7619, 4.1655) radius 2.5
  point P0 (-61.9125, 0)
  dimension "d29" = 5
extrude "Extrusion5" cut sketch "Sketch5" along normal blind 4.064
sketch "Sketch7" plane through (19.3675, 0, -9.525) normal (0, -1, 0) x (1, 0, 0)
  circle A0 centre (-14.0181, 5.3595) radius 1.55 projected
  circle A1 centre (-14.0181, 13.6905) radius 1.55 projected
  circle A2 centre (38.7831, 13.6905) radius 1.55 projected
  circle A3 centre (38.7831, 5.3595) radius 1.55 projected
  point P0 (-19.3675, 9.525)
extrude "Extrusion6" cut sketch "Sketch7" against normal through all
ref_plane "Work Plane2" through (31.75, 0, -9.525) normal (1, 0, 0) x (0, 1, 0)
properties part number "resistor-bottom"
